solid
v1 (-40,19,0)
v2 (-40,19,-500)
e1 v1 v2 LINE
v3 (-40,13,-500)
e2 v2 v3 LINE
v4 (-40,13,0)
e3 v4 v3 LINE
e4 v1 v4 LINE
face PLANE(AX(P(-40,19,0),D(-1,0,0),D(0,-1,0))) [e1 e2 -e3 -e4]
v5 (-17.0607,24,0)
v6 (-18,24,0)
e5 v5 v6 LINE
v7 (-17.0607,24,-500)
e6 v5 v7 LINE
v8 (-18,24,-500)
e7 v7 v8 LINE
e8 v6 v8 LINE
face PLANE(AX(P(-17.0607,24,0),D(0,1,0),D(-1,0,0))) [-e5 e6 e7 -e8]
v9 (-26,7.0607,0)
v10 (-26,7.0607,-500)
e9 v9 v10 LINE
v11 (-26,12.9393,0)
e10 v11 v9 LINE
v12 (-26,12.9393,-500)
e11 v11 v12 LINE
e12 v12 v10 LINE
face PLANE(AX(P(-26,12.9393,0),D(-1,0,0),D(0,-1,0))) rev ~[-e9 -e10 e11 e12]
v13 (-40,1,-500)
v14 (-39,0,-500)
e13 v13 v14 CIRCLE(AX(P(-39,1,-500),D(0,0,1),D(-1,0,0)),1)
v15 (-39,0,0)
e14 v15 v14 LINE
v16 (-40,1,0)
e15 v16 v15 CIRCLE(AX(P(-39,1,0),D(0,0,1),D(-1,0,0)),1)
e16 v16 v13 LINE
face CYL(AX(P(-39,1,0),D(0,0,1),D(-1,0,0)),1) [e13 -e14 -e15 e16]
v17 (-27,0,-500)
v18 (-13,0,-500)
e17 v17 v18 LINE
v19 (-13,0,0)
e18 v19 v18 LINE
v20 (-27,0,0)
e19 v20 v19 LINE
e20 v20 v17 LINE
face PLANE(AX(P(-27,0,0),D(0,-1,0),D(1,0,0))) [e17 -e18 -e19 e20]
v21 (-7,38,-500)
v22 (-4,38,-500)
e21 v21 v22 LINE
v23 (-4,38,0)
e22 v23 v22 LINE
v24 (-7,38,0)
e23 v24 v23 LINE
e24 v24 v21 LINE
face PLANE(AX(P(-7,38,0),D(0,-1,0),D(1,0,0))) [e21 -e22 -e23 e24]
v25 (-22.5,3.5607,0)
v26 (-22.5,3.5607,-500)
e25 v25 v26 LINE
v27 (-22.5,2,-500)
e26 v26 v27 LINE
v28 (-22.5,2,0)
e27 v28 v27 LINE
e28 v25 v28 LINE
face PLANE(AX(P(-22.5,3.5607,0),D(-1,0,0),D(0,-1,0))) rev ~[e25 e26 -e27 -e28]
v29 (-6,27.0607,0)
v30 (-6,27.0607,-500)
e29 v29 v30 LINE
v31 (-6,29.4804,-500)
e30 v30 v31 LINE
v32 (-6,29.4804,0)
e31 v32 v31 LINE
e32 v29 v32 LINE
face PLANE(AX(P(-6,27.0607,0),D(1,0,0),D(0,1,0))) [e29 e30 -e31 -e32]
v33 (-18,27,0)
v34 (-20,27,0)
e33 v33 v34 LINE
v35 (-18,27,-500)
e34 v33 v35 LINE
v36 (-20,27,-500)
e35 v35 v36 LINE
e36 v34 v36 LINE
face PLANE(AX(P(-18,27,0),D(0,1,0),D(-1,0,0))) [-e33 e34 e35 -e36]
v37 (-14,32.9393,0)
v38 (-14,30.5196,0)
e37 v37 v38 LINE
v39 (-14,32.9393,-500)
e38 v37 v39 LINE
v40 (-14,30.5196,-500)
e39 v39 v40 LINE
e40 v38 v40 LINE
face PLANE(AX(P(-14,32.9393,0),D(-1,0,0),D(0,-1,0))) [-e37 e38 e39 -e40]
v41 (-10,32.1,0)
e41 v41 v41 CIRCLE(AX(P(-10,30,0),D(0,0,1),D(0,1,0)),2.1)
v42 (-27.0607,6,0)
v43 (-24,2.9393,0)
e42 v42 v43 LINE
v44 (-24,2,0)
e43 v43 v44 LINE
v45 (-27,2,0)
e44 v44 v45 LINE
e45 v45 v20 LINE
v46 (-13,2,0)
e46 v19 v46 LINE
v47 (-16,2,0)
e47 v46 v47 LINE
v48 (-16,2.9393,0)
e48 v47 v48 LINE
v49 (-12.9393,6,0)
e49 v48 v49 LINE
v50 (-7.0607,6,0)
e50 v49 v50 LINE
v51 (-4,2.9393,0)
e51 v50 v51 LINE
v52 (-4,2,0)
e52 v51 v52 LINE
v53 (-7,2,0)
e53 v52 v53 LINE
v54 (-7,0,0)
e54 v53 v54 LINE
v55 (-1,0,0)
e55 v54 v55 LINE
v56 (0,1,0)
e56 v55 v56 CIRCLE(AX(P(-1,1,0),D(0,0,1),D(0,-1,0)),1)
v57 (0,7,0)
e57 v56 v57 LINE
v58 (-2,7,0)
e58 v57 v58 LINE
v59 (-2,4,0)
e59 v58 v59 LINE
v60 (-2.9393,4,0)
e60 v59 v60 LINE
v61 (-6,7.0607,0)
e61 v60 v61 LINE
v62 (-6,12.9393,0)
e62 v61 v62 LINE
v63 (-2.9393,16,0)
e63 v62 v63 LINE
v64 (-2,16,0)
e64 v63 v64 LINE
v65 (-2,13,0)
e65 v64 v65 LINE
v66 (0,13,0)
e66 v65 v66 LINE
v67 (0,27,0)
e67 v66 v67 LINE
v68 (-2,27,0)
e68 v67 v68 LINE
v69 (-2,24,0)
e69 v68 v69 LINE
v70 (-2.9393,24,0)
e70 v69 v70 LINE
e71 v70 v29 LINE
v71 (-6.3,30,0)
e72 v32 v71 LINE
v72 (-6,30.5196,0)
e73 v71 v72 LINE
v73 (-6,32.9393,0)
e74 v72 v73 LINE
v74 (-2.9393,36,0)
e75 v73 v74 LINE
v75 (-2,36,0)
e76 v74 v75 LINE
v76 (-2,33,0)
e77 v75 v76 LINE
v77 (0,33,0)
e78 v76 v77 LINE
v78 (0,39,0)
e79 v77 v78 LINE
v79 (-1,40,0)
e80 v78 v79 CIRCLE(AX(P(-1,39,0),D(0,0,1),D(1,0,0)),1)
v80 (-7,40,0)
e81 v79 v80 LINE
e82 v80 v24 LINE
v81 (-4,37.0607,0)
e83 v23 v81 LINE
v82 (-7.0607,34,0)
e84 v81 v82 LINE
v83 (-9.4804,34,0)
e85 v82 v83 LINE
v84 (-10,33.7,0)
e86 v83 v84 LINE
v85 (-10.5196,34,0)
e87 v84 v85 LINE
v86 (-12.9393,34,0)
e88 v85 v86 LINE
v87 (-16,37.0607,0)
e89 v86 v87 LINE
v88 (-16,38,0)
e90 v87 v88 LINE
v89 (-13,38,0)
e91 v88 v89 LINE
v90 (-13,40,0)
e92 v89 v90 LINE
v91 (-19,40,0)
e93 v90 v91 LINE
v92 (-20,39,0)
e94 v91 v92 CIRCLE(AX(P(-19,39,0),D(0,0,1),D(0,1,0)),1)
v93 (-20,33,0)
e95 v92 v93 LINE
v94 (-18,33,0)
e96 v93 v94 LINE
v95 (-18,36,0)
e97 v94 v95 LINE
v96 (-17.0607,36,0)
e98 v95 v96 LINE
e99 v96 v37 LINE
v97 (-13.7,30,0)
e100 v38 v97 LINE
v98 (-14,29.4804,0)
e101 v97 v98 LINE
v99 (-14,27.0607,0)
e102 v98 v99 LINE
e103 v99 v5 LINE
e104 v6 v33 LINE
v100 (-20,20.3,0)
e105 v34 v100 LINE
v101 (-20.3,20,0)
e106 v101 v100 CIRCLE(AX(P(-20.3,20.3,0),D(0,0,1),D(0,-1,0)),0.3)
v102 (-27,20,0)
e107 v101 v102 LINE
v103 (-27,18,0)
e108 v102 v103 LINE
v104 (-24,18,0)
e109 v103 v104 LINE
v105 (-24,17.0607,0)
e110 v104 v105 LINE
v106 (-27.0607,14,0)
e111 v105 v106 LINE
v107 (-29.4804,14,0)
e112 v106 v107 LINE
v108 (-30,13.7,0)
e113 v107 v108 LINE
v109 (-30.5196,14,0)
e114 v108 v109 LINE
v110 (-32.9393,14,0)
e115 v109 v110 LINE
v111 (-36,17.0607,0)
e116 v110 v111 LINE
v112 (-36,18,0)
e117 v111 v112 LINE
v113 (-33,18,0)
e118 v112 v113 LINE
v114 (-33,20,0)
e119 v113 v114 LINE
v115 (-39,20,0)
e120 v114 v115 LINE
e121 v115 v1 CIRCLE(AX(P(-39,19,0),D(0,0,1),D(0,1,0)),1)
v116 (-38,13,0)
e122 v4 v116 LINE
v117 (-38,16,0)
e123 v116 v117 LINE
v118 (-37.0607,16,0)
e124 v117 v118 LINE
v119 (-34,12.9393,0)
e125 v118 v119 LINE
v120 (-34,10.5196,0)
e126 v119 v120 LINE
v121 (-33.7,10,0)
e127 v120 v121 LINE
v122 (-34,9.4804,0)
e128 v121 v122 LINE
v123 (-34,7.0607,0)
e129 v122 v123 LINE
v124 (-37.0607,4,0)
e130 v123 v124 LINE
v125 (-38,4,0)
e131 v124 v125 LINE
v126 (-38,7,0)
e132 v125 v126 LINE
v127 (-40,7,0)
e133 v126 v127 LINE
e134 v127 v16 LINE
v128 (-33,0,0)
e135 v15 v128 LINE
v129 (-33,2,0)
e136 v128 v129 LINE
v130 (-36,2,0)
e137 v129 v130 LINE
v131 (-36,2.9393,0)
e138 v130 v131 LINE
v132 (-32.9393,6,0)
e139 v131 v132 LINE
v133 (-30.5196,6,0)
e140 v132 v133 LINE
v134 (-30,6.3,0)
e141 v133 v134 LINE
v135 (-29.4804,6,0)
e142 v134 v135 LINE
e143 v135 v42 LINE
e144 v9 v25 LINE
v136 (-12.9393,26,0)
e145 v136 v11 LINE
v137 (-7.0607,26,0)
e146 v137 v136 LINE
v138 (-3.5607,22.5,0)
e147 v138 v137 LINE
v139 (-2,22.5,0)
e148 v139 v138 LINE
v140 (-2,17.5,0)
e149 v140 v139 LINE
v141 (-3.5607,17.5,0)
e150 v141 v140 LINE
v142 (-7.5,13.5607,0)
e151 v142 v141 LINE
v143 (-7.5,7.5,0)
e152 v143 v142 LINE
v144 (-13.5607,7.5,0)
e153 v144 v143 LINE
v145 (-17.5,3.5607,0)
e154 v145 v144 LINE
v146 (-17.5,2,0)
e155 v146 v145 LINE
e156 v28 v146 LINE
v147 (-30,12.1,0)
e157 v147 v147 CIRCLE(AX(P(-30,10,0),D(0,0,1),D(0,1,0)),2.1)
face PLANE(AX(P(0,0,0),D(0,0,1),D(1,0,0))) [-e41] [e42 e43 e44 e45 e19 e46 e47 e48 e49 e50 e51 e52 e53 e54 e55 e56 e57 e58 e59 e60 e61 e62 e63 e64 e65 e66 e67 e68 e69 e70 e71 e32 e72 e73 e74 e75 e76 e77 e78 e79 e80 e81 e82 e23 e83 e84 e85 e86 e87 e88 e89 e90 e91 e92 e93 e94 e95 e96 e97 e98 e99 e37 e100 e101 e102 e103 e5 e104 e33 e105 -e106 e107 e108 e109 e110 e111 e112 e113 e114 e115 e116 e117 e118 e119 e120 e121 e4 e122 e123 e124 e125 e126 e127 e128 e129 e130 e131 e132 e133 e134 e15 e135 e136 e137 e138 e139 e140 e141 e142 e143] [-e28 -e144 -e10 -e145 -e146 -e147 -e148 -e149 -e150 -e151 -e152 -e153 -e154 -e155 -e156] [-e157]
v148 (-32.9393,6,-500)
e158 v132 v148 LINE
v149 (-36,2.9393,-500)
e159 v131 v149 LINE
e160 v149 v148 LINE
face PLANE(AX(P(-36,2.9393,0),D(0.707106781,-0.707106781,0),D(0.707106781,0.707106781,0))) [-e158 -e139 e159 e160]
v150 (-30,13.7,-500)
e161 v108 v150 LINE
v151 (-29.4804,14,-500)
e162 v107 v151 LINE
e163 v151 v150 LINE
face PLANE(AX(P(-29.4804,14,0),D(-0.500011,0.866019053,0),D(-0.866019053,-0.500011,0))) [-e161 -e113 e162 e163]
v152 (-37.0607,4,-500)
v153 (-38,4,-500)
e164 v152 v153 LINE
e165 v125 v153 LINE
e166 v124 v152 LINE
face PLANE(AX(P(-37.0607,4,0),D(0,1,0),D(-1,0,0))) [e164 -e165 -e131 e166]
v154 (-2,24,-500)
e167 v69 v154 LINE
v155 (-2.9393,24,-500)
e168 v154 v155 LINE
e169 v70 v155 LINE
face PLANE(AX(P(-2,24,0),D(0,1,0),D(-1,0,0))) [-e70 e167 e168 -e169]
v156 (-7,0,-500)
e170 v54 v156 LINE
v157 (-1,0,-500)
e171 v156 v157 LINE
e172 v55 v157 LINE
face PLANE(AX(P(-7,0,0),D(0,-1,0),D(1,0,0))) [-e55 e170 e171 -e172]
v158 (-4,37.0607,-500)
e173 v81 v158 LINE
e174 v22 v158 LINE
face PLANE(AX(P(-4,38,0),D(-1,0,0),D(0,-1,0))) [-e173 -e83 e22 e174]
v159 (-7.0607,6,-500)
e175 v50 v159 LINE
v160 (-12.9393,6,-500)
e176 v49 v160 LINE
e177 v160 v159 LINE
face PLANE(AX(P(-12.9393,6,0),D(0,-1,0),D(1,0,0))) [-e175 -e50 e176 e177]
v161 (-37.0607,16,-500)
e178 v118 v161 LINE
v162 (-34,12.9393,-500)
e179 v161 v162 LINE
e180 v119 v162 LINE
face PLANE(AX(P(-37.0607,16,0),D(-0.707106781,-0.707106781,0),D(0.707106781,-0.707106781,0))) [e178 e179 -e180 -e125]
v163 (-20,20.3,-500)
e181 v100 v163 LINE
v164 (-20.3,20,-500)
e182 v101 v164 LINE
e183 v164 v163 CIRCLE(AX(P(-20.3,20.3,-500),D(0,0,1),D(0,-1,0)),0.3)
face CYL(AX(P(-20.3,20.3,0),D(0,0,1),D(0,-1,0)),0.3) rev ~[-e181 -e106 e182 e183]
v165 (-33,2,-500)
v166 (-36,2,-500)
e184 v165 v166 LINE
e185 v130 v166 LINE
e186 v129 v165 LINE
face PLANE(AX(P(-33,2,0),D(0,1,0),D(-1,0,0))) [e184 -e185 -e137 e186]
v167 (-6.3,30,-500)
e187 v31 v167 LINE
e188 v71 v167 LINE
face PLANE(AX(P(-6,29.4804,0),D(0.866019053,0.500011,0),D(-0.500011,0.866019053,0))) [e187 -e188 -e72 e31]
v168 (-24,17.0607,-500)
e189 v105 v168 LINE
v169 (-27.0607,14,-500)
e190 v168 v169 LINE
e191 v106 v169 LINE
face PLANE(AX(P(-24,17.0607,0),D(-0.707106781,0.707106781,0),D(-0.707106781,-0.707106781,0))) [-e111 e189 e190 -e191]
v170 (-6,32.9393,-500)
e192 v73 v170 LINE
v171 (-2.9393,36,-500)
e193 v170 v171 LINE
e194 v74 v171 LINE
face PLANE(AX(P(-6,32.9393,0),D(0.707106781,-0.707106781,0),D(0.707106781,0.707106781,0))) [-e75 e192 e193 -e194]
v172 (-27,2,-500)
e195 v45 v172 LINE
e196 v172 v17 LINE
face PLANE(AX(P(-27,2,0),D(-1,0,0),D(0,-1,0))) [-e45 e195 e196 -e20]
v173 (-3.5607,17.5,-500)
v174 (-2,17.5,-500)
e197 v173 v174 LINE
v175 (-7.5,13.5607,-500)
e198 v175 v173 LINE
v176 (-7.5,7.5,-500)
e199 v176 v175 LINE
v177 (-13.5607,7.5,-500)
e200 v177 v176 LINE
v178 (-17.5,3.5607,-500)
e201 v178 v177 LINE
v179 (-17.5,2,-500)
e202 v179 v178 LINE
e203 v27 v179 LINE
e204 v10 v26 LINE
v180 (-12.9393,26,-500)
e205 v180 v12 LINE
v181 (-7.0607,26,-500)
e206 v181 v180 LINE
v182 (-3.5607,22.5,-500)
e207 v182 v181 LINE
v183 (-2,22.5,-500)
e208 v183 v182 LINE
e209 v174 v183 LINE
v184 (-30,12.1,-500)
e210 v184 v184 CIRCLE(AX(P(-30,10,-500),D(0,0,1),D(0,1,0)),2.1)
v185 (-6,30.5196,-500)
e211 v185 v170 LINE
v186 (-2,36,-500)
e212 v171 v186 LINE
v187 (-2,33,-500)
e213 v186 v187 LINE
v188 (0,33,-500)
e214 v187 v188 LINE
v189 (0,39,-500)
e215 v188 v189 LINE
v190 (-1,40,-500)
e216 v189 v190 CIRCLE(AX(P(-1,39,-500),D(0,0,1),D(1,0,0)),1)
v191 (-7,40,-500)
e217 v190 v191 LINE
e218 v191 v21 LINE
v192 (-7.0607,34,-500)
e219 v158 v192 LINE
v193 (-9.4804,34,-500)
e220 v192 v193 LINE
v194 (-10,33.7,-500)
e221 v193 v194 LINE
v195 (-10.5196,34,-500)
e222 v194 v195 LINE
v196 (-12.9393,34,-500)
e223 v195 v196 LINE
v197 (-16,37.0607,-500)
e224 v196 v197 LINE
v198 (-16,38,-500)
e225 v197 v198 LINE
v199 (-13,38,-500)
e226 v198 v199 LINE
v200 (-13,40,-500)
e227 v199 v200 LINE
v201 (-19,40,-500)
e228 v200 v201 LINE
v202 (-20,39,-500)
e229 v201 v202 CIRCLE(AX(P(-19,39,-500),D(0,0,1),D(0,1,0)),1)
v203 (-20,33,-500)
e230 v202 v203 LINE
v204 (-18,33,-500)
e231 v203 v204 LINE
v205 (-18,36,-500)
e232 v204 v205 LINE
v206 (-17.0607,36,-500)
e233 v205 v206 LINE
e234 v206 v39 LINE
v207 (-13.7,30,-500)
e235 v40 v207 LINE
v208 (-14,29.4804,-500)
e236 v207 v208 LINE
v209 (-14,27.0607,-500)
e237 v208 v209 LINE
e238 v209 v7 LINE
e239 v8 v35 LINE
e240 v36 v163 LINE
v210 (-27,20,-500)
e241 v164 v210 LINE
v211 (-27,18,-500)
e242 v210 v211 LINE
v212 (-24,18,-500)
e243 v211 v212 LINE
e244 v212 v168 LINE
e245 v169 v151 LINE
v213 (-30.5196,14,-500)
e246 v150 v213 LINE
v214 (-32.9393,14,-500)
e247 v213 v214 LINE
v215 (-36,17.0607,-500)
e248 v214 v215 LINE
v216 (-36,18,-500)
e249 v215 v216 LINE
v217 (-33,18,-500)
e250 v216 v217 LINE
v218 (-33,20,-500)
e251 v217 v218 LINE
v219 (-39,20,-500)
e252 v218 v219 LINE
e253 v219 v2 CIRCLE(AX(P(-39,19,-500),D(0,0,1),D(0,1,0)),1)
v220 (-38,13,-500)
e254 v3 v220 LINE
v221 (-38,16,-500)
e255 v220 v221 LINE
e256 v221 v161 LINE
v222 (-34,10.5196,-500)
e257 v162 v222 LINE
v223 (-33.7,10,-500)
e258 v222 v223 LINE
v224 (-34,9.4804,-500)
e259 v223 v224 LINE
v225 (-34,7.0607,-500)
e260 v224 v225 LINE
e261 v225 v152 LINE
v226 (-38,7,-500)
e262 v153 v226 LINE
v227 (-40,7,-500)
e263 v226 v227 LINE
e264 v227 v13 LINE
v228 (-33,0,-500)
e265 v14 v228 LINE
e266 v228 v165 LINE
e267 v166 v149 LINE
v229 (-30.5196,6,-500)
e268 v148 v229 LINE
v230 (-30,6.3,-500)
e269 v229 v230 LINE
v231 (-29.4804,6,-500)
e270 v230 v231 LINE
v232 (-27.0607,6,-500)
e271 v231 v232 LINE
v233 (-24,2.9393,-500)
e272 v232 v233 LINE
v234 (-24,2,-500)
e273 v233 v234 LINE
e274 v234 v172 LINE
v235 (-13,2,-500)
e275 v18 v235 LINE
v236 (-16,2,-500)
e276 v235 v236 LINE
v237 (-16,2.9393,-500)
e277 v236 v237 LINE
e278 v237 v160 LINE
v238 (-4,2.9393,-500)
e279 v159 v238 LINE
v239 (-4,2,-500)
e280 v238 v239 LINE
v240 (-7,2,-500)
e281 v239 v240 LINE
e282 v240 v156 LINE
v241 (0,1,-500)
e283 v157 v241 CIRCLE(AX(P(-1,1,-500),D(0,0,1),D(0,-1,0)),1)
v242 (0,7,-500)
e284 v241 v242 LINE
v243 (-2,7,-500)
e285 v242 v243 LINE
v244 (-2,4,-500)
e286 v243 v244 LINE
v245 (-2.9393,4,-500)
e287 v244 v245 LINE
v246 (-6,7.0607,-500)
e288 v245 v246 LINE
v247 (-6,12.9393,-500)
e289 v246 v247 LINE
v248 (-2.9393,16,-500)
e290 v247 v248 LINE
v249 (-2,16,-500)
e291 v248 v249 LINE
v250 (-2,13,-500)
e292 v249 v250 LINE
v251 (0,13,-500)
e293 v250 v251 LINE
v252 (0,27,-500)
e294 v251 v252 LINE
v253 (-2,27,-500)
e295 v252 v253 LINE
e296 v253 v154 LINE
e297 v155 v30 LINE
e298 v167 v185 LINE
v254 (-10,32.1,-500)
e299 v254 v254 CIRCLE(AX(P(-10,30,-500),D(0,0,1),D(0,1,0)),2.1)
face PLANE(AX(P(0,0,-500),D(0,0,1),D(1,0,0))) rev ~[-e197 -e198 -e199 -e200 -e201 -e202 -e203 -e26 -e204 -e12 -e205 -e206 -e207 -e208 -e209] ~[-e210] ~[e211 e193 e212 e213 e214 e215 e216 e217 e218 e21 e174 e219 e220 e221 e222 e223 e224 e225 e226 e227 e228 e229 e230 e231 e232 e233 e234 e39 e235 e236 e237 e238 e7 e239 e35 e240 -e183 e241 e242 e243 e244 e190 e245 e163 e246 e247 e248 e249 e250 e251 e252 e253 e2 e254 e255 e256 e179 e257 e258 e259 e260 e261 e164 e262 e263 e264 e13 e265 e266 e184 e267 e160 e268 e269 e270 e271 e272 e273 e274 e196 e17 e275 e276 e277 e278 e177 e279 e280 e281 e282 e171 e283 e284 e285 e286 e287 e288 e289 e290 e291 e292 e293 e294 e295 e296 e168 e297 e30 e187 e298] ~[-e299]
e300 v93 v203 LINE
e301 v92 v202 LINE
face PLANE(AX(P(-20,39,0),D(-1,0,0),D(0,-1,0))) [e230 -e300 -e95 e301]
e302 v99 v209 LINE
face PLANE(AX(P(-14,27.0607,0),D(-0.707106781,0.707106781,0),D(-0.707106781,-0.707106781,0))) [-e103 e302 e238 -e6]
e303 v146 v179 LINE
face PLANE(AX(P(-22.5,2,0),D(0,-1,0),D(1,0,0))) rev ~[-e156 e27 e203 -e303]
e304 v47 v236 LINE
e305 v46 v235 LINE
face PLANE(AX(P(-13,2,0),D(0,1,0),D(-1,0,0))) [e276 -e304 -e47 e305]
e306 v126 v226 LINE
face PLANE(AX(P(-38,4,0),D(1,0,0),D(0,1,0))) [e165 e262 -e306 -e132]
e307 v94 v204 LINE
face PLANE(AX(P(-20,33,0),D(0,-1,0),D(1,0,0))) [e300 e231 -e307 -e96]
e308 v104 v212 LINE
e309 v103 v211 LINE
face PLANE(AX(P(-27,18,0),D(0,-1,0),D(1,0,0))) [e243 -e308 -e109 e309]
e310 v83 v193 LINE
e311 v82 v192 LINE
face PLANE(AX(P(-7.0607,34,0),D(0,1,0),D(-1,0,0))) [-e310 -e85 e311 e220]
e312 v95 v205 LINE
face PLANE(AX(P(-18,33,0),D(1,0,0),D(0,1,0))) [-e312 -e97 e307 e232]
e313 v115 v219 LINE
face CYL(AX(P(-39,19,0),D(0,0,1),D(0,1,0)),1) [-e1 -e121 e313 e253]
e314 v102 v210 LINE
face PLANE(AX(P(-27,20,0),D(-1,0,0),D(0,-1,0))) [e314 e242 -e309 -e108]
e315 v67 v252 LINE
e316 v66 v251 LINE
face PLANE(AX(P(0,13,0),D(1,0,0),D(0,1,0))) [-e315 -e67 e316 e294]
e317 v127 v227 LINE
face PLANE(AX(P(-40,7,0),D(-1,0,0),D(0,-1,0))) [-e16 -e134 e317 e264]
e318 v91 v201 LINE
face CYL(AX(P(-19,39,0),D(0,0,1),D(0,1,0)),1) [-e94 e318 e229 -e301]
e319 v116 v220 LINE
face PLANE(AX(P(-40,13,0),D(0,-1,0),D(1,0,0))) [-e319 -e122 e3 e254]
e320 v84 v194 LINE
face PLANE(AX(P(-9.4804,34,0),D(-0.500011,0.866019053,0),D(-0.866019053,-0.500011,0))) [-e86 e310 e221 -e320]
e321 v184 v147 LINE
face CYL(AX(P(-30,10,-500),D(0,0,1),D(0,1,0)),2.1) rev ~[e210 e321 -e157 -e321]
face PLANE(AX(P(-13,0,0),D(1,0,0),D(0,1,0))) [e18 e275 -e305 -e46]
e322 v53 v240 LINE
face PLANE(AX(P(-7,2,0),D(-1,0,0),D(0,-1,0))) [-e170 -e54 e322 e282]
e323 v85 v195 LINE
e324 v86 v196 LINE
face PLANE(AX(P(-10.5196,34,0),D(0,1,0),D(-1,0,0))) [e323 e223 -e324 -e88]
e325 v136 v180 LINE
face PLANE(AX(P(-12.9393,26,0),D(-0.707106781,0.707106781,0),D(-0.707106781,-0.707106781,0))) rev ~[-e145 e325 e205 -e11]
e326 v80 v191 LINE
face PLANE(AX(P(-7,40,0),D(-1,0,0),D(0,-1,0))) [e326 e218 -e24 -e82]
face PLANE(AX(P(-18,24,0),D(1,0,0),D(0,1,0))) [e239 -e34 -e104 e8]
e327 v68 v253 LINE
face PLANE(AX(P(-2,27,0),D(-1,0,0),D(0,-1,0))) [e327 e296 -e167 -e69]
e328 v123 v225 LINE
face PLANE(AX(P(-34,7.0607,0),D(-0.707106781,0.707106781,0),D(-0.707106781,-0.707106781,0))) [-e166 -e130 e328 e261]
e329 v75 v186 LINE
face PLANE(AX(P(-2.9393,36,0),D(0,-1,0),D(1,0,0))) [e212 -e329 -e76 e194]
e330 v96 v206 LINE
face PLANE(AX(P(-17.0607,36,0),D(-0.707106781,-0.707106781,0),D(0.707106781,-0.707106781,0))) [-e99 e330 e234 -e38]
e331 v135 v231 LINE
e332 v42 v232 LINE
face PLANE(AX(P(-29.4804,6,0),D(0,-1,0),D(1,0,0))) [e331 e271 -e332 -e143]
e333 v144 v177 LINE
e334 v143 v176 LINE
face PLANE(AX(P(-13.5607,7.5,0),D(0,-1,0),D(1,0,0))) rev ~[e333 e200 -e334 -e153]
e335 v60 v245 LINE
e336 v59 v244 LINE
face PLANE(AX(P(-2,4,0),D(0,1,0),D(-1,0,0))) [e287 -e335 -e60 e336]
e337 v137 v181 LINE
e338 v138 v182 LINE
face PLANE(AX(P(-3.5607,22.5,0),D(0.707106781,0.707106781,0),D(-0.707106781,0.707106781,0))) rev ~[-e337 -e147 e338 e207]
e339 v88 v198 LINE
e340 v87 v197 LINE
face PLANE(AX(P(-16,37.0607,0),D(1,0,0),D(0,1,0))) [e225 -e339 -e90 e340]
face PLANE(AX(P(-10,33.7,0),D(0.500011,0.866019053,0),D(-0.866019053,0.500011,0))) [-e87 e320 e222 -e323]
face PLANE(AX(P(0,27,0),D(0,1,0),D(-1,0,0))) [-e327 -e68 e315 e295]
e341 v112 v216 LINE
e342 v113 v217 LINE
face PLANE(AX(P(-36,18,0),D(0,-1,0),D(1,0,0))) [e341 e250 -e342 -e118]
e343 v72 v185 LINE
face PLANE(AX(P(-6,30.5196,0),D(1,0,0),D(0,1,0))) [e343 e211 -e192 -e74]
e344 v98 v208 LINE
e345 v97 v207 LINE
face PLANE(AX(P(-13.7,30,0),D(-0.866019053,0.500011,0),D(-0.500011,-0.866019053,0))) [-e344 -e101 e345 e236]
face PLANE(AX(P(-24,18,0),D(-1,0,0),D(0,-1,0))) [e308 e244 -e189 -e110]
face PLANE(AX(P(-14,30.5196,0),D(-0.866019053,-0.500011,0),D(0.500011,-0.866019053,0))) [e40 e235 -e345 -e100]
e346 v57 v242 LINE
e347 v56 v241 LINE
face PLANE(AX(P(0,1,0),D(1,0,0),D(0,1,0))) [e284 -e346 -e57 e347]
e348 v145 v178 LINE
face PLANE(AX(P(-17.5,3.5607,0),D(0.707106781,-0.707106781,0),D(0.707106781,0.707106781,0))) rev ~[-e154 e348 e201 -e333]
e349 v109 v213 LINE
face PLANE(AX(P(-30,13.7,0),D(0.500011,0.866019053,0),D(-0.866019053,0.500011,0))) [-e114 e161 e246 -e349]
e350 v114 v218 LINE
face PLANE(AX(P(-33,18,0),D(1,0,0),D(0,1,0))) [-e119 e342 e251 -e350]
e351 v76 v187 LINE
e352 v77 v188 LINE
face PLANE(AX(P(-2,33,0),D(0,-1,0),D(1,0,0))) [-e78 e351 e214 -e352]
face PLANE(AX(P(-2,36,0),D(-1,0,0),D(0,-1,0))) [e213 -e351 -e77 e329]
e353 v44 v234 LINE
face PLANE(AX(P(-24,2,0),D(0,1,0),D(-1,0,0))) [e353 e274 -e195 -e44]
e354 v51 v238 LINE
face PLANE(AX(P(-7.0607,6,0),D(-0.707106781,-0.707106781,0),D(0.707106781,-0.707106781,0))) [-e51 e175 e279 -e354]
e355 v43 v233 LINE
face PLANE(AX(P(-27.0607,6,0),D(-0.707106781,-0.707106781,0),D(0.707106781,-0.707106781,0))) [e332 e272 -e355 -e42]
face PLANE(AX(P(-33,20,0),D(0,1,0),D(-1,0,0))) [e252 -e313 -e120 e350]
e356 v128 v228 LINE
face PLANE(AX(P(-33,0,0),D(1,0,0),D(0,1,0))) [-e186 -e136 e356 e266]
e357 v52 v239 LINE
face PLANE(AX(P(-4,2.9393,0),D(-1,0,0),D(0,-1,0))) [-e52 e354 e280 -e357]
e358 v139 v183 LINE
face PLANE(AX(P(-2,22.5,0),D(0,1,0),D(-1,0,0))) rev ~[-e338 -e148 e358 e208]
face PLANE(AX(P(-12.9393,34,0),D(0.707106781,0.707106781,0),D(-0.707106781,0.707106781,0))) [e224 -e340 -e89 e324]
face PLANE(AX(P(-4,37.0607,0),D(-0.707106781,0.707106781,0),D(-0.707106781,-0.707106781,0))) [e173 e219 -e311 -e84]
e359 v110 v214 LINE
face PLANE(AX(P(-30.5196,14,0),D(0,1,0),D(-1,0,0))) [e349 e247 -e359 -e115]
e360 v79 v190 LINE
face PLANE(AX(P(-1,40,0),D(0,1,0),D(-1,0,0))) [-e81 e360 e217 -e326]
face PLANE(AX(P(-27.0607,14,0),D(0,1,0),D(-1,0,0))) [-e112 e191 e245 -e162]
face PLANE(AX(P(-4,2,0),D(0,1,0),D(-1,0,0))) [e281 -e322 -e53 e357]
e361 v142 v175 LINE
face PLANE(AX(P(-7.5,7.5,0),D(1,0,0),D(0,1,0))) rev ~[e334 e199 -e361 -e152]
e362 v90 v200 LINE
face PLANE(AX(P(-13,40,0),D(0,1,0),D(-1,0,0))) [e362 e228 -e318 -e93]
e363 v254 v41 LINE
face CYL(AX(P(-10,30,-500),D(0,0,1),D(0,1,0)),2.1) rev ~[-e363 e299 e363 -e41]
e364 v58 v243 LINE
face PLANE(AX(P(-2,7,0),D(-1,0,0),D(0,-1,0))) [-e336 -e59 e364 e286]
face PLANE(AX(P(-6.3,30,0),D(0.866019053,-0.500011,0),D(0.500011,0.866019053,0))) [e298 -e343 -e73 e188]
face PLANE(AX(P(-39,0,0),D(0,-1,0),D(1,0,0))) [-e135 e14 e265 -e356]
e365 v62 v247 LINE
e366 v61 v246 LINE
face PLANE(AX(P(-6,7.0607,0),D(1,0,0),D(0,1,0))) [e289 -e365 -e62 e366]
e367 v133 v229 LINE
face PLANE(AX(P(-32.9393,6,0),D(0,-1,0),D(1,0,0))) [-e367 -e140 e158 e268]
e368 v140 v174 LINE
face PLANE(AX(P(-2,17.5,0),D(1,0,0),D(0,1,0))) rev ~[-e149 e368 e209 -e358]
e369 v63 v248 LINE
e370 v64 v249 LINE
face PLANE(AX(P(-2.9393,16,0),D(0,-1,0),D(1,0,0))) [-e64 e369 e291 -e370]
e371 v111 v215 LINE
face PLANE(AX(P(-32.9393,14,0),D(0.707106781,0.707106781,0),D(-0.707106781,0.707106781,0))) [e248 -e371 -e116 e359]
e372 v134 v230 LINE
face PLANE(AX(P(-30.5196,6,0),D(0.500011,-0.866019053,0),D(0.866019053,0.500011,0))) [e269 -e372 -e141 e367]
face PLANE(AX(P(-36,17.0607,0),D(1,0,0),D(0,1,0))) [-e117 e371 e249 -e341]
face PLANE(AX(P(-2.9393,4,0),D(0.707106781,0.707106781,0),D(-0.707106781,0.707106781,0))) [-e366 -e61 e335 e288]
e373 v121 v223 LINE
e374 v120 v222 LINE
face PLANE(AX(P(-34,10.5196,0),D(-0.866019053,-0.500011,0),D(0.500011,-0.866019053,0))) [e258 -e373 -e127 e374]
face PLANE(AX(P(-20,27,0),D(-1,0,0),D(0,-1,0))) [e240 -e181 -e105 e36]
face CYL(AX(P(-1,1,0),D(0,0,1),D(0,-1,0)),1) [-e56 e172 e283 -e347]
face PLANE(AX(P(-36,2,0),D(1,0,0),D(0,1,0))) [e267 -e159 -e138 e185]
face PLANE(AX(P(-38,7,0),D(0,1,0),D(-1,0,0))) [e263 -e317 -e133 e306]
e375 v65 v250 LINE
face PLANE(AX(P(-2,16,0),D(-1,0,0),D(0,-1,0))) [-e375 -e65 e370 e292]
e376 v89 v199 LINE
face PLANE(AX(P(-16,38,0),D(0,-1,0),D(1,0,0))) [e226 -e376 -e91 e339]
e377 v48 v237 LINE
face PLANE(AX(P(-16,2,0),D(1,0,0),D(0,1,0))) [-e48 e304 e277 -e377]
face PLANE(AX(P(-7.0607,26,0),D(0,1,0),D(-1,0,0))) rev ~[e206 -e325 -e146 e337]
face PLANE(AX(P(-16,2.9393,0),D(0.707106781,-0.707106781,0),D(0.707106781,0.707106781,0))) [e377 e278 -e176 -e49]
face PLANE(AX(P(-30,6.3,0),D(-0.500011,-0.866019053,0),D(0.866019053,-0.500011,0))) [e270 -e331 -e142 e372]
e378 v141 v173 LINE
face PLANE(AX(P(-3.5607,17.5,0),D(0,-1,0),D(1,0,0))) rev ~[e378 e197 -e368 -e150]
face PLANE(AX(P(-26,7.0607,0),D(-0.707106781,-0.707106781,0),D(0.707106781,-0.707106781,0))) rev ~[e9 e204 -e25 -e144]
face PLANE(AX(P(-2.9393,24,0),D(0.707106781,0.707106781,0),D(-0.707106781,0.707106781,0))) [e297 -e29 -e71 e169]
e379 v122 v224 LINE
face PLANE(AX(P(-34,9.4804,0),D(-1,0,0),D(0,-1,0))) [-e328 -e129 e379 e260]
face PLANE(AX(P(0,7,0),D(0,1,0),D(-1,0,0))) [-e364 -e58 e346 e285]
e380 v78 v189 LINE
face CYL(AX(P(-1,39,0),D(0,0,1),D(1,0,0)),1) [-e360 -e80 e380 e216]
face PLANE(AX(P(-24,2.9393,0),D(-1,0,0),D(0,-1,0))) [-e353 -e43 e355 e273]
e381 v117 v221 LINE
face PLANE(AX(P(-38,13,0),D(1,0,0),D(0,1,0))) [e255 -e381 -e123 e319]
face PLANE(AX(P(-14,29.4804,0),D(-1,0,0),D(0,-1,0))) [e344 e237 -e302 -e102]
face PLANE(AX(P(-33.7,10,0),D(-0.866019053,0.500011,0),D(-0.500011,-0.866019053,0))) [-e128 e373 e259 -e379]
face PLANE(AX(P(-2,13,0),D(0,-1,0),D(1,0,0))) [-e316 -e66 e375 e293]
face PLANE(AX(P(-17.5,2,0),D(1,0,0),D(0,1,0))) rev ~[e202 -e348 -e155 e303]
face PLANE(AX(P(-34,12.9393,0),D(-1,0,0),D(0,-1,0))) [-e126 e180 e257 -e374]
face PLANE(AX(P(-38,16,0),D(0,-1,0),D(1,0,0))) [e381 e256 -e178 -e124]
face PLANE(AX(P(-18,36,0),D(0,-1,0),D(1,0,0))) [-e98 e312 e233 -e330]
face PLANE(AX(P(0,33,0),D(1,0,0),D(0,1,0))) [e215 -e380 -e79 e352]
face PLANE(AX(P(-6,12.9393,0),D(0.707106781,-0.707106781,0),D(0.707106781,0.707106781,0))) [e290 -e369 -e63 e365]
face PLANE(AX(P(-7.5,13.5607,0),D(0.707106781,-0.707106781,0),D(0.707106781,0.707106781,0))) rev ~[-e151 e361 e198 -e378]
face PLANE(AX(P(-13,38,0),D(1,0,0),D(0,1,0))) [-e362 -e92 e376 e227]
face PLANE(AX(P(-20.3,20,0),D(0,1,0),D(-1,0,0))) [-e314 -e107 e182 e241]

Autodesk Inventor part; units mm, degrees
ref_plane "YZ Plane" through (0, 0, 0) normal (1, 0, 0) x (0, 1, 0)
ref_plane "XZ Plane" through (0, 0, 0) normal (0, 1, 0) x (-1, 0, 0)
ref_plane "XY Plane" through (0, 0, 0) normal (0, 0, 1) x (1, 0, 0)
sketch "Sketch_1" plane through (0, 0, 0) normal (0, 0, 1) x (1, 0, 0)
  line L0 (-40, 19) -> (-40, 13)
  line L1 (-40, 13) -> (-38, 13)
  line L2 (-38, 13) -> (-38, 16)
  line L3 (-38, 16) -> (-37.0607, 16)
  line L4 (-37.0607, 16) -> (-34, 12.9393)
  line L5 (-34, 12.9393) -> (-34, 10.5196)
  line L6 (-34, 10.5196) -> (-33.7, 10)
  line L7 (-33.7, 10) -> (-34, 9.4804)
  line L8 (-34, 9.4804) -> (-34, 7.0607)
  line L9 (-34, 7.0607) -> (-37.0607, 4)
  line L10 (-37.0607, 4) -> (-38, 4)
  line L11 (-38, 4) -> (-38, 7)
  line L12 (-38, 7) -> (-40, 7)
  line L13 (-40, 7) -> (-40, 1)
  arc A0 (-40, 1) -> (-39, 0) centre (-39, 1) ccw
  line L14 (-39, 0) -> (-33, 0)
  line L15 (-33, 0) -> (-33, 2)
  line L16 (-33, 2) -> (-36, 2)
  line L17 (-36, 2) -> (-36, 2.9393)
  line L18 (-36, 2.9393) -> (-32.9393, 6)
  line L19 (-32.9393, 6) -> (-30.5196, 6)
  line L20 (-30.5196, 6) -> (-30, 6.3)
  line L21 (-30, 6.3) -> (-29.4804, 6)
  line L22 (-29.4804, 6) -> (-27.0607, 6)
  line L23 (-27.0607, 6) -> (-24, 2.9393)
  line L24 (-24, 2.9393) -> (-24, 2)
  line L25 (-24, 2) -> (-27, 2)
  line L26 (-27, 2) -> (-27, 0)
  line L27 (-27, 0) -> (-13, 0)
  line L28 (-13, 0) -> (-13, 2)
  line L29 (-13, 2) -> (-16, 2)
  line L30 (-16, 2) -> (-16, 2.9393)
  line L31 (-16, 2.9393) -> (-12.9393, 6)
  line L32 (-12.9393, 6) -> (-7.0607, 6)
  line L33 (-7.0607, 6) -> (-4, 2.9393)
  line L34 (-4, 2.9393) -> (-4, 2)
  line L35 (-4, 2) -> (-7, 2)
  line L36 (-7, 2) -> (-7, 0)
  line L37 (-7, 0) -> (-1, 0)
  arc A1 (-1, 0) -> (0, 1) centre (-1, 1) ccw
  line L38 (0, 1) -> (0, 7)
  line L39 (0, 7) -> (-2, 7)
  line L40 (-2, 7) -> (-2, 4)
  line L41 (-2, 4) -> (-2.9393, 4)
  line L42 (-2.9393, 4) -> (-6, 7.0607)
  line L43 (-6, 7.0607) -> (-6, 12.9393)
  line L44 (-6, 12.9393) -> (-2.9393, 16)
  line L45 (-2.9393, 16) -> (-2, 16)
  line L46 (-2, 16) -> (-2, 13)
  line L47 (-2, 13) -> (0, 13)
  line L48 (0, 13) -> (0, 27)
  line L49 (0, 27) -> (-2, 27)
  line L50 (-2, 27) -> (-2, 24)
  line L51 (-2, 24) -> (-2.9393, 24)
  line L52 (-2.9393, 24) -> (-6, 27.0607)
  line L53 (-6, 27.0607) -> (-6, 29.4804)
  line L54 (-6, 29.4804) -> (-6.3, 30)
  line L55 (-6.3, 30) -> (-6, 30.5196)
  line L56 (-6, 30.5196) -> (-6, 32.9393)
  line L57 (-6, 32.9393) -> (-2.9393, 36)
  line L58 (-2.9393, 36) -> (-2, 36)
  line L59 (-2, 36) -> (-2, 33)
  line L60 (-2, 33) -> (0, 33)
  line L61 (0, 33) -> (0, 39)
  arc A2 (0, 39) -> (-1, 40) centre (-1, 39) ccw
  line L62 (-1, 40) -> (-7, 40)
  line L63 (-7, 40) -> (-7, 38)
  line L64 (-7, 38) -> (-4, 38)
  line L65 (-4, 38) -> (-4, 37.0607)
  line L66 (-4, 37.0607) -> (-7.0607, 34)
  line L67 (-7.0607, 34) -> (-9.4804, 34)
  line L68 (-9.4804, 34) -> (-10, 33.7)
  line L69 (-10, 33.7) -> (-10.5196, 34)
  line L70 (-10.5196, 34) -> (-12.9393, 34)
  line L71 (-12.9393, 34) -> (-16, 37.0607)
  line L72 (-16, 37.0607) -> (-16, 38)
  line L73 (-16, 38) -> (-13, 38)
  line L74 (-13, 38) -> (-13, 40)
  line L75 (-13, 40) -> (-19, 40)
  arc A3 (-19, 40) -> (-20, 39) centre (-19, 39) ccw
  line L76 (-20, 39) -> (-20, 33)
  line L77 (-20, 33) -> (-18, 33)
  line L78 (-18, 33) -> (-18, 36)
  line L79 (-18, 36) -> (-17.0607, 36)
  line L80 (-17.0607, 36) -> (-14, 32.9393)
  line L81 (-14, 32.9393) -> (-14, 30.5196)
  line L82 (-14, 30.5196) -> (-13.7, 30)
  line L83 (-13.7, 30) -> (-14, 29.4804)
  line L84 (-14, 29.4804) -> (-14, 27.0607)
  line L85 (-14, 27.0607) -> (-17.0607, 24)
  line L86 (-17.0607, 24) -> (-18, 24)
  line L87 (-18, 24) -> (-18, 27)
  line L88 (-18, 27) -> (-20, 27)
  line L89 (-20, 27) -> (-20, 20.3)
  arc A4 (-20.3, 20) -> (-20, 20.3) centre (-20.3, 20.3) ccw
  line L90 (-20.3, 20) -> (-27, 20)
  line L91 (-27, 20) -> (-27, 18)
  line L92 (-27, 18) -> (-24, 18)
  line L93 (-24, 18) -> (-24, 17.0607)
  line L94 (-24, 17.0607) -> (-27.0607, 14)
  line L95 (-27.0607, 14) -> (-29.4804, 14)
  line L96 (-29.4804, 14) -> (-30, 13.7)
  line L97 (-30, 13.7) -> (-30.5196, 14)
  line L98 (-30.5196, 14) -> (-32.9393, 14)
  line L99 (-32.9393, 14) -> (-36, 17.0607)
  line L100 (-36, 17.0607) -> (-36, 18)
  line L101 (-36, 18) -> (-33, 18)
  line L102 (-33, 18) -> (-33, 20)
  line L103 (-33, 20) -> (-39, 20)
  arc A5 (-39, 20) -> (-40, 19) centre (-39, 19) ccw
  line L104 (-26, 7.0607) -> (-22.5, 3.5607)
  line L105 (-22.5, 3.5607) -> (-22.5, 2)
  line L106 (-22.5, 2) -> (-17.5, 2)
  line L107 (-17.5, 2) -> (-17.5, 3.5607)
  line L108 (-17.5, 3.5607) -> (-13.5607, 7.5)
  line L109 (-13.5607, 7.5) -> (-7.5, 7.5)
  line L110 (-7.5, 7.5) -> (-7.5, 13.5607)
  line L111 (-7.5, 13.5607) -> (-3.5607, 17.5)
  line L112 (-3.5607, 17.5) -> (-2, 17.5)
  line L113 (-2, 17.5) -> (-2, 22.5)
  line L114 (-2, 22.5) -> (-3.5607, 22.5)
  line L115 (-3.5607, 22.5) -> (-7.0607, 26)
  line L116 (-7.0607, 26) -> (-12.9393, 26)
  line L117 (-12.9393, 26) -> (-26, 12.9393)
  line L118 (-26, 12.9393) -> (-26, 7.0607)
extrude "Extrusion1" add sketch "Sketch_1" against normal blind 500
sketch "Sketch2" plane through (0, 0, -500) normal (0, 0, -1) x (-1, 0, 0)
  point P0 (10, 30)
hole "Hole1" at (-10, 30, -500) direction (0, 0, 1) diameter 4.2 end through all
sketch "Sketch3" plane through (0, 0, -500) normal (0, 0, -1) x (-1, 0, 0)
  point P0 (30, 10)
hole "Hole2" at (-30, 10, -500) direction (0, 0, 1) diameter 4.2 end through all
thread "Thread1" size "M5x0.8" class "6H" standard "ANSI Metric M Profile" length 10
thread "Thread2" size "M5x0.8" class "6H" standard "ANSI Metric M Profile" length 10
thread "Thread3" size "M5x0.8" class "6H" standard "ANSI Metric M Profile" length 10
thread "Thread4" size "M5x0.8" class "6H" standard "ANSI Metric M Profile" length 10
properties part number "HFS5-404020-500-SC" material "Aluminum 6061"
